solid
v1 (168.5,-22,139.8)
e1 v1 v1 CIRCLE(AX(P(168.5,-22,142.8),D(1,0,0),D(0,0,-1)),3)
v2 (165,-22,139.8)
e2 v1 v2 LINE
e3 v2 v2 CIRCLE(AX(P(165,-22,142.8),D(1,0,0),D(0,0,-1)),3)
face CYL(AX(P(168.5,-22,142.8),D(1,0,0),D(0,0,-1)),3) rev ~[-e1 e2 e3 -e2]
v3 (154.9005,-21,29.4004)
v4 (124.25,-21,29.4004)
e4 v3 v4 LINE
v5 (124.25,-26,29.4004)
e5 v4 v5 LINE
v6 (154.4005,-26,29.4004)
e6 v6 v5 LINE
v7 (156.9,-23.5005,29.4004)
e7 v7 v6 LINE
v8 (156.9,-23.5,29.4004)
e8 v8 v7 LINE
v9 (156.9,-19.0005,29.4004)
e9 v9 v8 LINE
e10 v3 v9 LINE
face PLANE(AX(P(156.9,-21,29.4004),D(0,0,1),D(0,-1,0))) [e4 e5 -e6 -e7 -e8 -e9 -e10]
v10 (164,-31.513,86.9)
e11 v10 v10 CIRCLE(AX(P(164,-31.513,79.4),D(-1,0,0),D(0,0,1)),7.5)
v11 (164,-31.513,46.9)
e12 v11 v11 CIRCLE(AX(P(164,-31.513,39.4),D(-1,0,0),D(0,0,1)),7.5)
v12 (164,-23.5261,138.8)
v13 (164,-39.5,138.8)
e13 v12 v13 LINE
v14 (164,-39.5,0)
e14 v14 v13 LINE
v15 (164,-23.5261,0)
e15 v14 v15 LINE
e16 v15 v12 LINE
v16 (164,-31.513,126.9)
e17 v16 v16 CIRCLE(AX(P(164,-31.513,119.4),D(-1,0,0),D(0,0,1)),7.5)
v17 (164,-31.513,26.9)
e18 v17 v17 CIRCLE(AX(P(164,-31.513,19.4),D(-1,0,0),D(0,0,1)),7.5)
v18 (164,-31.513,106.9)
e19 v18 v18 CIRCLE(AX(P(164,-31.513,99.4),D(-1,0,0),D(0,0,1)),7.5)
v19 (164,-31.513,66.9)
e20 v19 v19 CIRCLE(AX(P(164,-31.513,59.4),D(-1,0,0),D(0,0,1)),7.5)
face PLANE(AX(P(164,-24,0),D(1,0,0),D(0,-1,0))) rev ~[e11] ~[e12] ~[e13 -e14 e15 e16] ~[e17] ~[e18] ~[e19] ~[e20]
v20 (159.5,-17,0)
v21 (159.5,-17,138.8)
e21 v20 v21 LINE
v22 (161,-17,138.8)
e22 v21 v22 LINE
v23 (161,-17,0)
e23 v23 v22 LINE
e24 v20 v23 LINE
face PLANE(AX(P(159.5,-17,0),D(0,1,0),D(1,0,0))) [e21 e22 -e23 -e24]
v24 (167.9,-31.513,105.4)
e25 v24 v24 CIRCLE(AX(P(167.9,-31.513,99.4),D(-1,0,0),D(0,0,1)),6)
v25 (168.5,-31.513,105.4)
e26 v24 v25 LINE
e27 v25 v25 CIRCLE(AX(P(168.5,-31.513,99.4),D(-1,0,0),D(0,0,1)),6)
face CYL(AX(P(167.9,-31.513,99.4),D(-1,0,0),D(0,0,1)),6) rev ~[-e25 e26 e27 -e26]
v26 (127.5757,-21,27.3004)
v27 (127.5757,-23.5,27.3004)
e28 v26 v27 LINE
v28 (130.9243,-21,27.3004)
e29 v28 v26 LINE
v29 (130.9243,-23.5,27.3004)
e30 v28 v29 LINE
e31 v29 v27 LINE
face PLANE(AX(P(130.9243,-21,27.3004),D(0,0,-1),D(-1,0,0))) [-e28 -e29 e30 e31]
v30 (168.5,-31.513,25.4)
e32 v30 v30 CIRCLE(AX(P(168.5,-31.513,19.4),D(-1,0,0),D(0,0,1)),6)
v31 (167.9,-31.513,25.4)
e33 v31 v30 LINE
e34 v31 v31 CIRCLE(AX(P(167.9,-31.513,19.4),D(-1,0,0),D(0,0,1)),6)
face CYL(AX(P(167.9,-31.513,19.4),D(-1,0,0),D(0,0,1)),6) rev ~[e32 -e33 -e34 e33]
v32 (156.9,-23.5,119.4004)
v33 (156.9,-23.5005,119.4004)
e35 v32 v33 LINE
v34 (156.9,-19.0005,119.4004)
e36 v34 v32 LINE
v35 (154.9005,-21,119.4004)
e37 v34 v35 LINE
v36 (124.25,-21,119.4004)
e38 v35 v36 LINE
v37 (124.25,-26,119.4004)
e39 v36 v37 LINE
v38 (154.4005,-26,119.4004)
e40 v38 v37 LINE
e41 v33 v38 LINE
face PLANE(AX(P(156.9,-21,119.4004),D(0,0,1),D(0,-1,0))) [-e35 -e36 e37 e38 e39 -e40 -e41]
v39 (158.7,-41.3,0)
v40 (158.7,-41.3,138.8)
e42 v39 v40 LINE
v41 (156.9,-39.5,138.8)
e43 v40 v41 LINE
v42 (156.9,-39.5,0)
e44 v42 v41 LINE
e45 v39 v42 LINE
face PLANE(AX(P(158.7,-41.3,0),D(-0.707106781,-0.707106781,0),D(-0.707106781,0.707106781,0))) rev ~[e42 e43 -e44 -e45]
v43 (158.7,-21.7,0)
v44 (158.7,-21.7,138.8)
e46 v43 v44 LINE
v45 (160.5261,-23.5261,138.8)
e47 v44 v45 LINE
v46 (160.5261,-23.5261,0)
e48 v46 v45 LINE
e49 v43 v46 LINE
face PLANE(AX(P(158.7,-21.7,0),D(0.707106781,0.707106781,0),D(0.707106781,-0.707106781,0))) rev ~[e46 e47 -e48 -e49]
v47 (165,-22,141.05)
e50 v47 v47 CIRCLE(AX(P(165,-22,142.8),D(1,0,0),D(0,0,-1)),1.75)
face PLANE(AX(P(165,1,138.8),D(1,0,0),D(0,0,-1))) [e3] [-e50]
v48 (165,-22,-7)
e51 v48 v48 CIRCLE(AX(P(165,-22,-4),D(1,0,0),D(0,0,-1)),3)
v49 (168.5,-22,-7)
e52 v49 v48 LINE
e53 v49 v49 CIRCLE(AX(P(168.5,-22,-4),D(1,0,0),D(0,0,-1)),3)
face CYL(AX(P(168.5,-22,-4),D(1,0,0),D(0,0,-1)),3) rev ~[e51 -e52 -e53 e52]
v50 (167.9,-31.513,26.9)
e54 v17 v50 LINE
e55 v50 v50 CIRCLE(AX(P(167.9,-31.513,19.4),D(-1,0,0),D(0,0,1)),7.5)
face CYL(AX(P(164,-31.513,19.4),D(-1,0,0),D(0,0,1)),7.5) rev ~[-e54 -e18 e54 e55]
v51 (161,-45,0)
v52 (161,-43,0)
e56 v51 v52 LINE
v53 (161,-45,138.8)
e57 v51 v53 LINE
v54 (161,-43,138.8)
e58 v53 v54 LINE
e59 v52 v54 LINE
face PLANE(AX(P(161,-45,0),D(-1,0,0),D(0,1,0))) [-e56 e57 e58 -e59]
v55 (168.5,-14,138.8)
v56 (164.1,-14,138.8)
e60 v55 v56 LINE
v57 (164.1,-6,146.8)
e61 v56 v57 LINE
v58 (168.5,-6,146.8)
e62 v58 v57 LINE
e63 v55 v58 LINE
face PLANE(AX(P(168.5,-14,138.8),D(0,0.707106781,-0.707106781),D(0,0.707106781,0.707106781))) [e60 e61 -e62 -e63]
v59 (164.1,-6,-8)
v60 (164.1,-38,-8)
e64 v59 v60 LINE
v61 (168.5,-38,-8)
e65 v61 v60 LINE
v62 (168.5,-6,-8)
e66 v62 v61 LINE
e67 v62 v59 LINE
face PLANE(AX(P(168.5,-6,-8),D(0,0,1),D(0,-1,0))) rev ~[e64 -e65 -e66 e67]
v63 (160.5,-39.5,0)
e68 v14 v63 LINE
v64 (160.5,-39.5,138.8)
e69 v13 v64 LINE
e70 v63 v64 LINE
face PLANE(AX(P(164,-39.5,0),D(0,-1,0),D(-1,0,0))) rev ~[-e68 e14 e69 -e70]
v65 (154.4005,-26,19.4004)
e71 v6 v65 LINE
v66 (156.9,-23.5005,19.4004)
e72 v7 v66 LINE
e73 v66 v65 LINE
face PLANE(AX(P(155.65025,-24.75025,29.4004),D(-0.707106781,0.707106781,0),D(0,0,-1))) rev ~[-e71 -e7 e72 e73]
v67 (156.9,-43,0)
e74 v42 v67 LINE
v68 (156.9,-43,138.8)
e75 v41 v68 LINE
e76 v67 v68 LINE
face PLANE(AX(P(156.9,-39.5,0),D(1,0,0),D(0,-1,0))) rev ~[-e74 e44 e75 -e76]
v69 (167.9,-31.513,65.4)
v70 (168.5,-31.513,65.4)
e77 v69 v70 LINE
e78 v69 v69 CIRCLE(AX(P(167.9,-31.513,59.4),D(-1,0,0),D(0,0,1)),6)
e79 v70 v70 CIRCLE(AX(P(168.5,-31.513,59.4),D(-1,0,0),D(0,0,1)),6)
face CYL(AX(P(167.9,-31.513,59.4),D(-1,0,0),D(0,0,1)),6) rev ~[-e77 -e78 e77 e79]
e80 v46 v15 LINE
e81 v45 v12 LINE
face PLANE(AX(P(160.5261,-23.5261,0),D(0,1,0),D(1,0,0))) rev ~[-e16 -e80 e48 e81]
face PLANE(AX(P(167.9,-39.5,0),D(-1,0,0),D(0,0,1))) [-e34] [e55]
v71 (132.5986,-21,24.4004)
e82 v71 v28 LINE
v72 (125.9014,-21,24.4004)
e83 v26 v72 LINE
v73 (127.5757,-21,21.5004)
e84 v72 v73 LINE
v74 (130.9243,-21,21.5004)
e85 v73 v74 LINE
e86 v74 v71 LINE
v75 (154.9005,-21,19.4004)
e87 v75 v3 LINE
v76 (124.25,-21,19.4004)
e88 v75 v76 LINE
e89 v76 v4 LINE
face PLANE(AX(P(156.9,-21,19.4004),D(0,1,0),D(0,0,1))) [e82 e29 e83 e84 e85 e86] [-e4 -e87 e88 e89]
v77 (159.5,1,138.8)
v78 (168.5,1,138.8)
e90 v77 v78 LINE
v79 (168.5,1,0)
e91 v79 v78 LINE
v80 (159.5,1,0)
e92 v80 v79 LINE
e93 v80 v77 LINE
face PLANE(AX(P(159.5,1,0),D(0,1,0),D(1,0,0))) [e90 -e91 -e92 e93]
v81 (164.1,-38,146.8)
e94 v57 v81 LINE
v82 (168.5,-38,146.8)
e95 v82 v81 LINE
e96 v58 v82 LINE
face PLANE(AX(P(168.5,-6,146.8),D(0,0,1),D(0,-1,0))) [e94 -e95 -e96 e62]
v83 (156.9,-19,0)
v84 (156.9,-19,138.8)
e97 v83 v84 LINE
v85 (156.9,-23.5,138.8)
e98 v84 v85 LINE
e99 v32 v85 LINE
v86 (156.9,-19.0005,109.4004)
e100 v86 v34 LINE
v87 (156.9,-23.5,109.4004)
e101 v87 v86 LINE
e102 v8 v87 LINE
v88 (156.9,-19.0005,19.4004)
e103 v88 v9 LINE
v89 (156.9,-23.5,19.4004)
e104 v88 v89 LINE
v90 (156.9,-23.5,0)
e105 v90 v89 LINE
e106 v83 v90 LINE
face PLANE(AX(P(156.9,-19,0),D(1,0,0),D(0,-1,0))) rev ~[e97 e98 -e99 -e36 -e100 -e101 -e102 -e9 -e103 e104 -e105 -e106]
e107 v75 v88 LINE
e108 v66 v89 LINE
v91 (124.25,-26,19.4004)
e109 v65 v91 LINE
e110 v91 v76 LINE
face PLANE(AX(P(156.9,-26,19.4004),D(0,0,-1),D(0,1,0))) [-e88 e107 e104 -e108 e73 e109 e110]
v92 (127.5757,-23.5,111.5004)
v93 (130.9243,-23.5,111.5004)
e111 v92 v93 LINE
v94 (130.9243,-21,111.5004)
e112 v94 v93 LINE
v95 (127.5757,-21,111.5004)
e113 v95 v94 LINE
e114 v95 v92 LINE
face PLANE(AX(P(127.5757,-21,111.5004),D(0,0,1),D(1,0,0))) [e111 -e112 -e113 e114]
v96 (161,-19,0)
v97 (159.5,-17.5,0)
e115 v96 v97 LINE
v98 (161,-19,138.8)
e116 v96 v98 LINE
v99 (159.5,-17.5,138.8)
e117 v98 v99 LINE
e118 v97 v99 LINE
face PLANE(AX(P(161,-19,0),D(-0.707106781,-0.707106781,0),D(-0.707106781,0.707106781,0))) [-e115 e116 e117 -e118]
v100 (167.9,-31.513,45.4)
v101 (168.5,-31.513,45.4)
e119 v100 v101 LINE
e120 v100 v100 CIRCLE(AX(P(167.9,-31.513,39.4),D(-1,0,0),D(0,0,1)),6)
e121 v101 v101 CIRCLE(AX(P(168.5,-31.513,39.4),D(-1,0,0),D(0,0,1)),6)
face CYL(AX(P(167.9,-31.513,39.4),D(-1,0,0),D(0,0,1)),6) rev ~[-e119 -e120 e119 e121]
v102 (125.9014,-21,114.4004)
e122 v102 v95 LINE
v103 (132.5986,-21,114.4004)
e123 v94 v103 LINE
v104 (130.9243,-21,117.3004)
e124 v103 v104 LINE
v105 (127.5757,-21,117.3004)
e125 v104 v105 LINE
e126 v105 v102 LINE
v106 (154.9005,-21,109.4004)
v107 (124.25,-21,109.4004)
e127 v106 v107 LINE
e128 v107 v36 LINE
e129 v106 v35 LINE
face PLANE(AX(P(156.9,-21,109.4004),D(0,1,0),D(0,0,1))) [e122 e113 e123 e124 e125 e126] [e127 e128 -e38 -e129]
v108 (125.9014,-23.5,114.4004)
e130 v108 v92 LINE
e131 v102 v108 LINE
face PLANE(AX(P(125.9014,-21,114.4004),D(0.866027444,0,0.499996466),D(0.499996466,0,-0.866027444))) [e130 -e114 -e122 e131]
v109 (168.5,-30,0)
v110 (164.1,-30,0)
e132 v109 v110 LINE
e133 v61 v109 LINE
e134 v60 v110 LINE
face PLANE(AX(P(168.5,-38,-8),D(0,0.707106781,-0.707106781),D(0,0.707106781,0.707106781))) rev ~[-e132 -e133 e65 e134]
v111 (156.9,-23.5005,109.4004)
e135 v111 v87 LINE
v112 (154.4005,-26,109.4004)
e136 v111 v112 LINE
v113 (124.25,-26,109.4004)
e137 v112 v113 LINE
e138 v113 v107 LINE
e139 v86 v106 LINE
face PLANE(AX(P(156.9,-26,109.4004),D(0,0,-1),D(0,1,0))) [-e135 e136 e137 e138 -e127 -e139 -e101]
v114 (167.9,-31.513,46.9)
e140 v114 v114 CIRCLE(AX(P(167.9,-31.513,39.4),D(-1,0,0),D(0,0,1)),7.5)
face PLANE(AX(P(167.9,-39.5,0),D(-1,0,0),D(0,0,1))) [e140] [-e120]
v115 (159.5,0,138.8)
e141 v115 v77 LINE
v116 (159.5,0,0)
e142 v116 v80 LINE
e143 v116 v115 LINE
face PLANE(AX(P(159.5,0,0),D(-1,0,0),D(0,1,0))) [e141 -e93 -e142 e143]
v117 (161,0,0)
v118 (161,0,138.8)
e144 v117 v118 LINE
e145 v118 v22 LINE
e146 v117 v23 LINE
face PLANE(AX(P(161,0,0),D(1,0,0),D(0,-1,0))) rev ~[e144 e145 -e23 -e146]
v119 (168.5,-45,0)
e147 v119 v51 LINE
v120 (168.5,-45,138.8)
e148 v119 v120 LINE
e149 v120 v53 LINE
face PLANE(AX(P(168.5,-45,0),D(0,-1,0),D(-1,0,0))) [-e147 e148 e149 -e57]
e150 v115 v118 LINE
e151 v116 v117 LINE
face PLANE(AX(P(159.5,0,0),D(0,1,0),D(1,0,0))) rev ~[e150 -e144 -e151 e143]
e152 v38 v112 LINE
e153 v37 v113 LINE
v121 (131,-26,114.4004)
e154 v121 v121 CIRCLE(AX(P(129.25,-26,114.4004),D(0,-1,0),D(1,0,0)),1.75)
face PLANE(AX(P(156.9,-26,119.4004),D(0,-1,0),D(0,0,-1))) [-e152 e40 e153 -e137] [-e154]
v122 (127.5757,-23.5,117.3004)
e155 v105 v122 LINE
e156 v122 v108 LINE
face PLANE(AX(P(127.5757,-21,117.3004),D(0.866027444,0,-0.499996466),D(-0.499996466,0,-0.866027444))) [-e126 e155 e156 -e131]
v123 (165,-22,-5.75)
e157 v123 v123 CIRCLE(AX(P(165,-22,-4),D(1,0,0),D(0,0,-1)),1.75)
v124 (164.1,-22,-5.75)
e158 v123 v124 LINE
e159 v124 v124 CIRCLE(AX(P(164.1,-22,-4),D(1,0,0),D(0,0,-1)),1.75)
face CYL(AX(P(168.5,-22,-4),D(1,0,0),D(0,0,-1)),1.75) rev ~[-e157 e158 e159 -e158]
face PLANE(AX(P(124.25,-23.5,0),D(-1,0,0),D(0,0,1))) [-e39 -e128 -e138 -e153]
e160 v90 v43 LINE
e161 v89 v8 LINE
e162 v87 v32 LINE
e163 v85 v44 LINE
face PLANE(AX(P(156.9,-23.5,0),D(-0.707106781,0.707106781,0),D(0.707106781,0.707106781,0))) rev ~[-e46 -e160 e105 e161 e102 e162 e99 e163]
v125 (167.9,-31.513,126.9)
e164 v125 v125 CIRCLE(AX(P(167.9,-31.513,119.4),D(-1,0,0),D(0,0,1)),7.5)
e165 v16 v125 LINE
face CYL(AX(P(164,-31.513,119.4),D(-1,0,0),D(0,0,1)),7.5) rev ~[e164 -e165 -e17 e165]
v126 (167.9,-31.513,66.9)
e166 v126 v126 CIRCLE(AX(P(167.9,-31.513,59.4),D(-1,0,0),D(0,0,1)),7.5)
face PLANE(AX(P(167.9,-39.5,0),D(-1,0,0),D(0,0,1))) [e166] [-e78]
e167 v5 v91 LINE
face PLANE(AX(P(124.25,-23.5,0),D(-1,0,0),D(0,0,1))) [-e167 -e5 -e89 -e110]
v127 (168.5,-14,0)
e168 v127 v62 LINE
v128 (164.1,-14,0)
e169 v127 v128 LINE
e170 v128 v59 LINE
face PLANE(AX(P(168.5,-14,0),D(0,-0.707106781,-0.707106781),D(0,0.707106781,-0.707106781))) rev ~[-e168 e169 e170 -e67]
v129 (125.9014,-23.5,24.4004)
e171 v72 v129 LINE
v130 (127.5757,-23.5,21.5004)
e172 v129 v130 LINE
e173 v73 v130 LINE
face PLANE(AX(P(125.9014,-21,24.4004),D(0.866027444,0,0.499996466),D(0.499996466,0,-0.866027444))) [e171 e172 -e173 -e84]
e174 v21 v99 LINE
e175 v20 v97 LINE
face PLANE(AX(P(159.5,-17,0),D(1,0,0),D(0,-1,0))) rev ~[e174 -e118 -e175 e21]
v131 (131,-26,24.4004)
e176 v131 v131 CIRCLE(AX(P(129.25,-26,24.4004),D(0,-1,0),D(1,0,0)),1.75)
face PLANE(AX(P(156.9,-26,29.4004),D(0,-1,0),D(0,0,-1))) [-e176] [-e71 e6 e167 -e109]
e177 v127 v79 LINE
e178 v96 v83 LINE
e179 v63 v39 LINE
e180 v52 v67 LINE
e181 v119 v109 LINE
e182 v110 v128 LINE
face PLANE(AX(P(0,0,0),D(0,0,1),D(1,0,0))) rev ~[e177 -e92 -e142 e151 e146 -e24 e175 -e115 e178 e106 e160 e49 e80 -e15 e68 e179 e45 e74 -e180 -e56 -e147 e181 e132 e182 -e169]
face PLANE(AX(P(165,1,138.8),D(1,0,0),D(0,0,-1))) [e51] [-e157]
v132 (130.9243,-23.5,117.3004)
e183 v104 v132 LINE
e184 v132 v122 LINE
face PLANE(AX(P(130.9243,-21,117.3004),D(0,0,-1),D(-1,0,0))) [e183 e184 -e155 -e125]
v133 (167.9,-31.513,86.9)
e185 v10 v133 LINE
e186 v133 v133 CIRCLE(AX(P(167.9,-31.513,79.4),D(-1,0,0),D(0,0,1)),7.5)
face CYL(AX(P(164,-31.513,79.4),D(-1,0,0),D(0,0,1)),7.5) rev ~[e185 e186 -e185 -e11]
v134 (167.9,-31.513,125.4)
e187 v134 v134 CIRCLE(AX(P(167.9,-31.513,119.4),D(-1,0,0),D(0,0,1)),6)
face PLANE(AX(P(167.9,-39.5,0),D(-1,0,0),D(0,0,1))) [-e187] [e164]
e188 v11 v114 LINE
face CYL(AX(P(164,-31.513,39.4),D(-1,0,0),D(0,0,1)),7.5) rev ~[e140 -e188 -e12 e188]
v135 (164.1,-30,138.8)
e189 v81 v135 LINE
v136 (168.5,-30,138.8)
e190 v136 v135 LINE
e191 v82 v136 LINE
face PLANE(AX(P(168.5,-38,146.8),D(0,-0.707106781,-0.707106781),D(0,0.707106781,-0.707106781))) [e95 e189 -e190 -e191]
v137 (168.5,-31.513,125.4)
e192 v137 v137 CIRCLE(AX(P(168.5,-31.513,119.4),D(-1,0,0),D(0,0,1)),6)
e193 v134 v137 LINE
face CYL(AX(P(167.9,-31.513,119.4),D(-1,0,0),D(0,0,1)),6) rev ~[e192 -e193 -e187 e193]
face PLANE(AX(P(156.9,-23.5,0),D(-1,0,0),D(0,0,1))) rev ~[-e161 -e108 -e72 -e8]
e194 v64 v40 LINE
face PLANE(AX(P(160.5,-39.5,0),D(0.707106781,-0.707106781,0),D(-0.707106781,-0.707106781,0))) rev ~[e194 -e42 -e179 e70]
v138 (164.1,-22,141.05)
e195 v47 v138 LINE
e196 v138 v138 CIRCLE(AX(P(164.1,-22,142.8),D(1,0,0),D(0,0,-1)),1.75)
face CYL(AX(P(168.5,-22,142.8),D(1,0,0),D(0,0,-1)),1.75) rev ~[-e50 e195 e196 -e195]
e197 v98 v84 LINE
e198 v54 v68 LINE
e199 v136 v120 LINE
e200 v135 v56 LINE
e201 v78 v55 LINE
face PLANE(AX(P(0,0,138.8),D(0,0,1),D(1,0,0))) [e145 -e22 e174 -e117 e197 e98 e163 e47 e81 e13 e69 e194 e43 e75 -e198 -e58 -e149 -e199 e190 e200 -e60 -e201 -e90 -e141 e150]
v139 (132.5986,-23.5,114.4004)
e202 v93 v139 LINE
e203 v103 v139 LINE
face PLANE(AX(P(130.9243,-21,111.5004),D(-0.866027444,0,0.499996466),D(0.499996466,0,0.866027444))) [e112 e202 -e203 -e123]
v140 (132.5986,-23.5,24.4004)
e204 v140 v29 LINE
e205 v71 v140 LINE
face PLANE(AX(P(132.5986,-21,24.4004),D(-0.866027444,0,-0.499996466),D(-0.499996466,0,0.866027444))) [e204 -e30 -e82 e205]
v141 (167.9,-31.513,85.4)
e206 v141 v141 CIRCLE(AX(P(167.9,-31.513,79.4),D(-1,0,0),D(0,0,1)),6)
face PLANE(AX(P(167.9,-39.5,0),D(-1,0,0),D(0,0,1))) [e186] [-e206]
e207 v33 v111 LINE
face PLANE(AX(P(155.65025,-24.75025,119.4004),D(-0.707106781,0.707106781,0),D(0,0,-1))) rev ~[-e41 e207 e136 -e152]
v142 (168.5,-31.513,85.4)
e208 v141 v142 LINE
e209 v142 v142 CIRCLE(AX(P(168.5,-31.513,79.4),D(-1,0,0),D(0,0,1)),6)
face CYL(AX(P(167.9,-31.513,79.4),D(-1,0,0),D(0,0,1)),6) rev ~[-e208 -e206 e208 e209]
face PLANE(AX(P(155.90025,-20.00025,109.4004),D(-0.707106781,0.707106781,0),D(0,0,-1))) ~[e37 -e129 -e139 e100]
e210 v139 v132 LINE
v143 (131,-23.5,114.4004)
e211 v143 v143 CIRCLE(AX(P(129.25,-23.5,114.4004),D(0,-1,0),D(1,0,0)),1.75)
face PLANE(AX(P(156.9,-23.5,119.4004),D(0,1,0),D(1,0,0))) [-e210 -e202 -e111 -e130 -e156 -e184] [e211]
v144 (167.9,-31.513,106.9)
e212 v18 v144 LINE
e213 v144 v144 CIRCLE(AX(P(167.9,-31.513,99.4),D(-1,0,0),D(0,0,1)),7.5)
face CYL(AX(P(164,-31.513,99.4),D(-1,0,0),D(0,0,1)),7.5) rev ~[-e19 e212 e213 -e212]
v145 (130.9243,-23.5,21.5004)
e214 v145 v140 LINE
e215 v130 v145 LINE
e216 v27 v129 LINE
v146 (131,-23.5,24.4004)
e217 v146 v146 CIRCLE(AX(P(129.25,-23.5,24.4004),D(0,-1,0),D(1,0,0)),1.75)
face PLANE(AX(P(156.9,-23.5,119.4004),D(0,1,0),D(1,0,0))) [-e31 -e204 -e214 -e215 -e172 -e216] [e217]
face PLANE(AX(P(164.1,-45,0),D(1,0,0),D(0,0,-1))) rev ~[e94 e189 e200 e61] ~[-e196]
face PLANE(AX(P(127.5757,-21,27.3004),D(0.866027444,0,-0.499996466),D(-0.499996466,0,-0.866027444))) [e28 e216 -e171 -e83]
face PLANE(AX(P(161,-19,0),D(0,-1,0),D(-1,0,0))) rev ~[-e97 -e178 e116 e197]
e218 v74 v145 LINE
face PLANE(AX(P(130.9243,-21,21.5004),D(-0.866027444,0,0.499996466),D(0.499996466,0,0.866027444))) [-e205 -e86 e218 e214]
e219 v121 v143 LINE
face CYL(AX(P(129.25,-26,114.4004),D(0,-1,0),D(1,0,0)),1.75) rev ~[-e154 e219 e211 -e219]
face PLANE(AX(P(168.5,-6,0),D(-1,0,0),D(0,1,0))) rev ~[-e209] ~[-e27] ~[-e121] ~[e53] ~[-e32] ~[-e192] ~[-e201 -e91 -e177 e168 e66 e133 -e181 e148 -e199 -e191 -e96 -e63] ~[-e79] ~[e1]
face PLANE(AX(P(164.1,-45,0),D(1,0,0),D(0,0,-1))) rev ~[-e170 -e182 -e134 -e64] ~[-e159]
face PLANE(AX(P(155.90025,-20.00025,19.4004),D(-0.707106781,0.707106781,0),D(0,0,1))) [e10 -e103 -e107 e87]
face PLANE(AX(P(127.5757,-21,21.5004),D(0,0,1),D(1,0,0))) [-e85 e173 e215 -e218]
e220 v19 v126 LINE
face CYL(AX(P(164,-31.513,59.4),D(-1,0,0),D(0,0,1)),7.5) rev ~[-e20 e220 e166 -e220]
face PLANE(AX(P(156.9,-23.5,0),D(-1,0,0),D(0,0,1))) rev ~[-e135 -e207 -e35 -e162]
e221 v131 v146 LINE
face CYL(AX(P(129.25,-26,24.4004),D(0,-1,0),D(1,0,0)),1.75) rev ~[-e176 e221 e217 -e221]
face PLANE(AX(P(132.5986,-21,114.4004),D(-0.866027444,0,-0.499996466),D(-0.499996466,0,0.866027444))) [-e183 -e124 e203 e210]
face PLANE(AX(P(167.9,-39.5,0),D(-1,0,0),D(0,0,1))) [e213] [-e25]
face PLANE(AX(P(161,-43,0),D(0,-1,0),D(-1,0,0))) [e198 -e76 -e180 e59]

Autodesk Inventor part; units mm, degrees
ref_plane "YZ Plane" through (0, 0, 0) normal (1, 0, 0) x (0, 1, 0)
ref_plane "XZ Plane" through (0, 0, 0) normal (0, 1, 0) x (-1, 0, 0)
ref_plane "XY Plane" through (0, 0, 0) normal (0, 0, 1) x (1, 0, 0)
ref_plane "Arbeitsebene1" through (0, 0, 0) normal (0, 0, 1) x (1, 0, 0)
sketch "Skizze1" plane through (0, 0, 0) normal (0, 0, 1) x (1, 0, 0)
  line L0 (159.5, 1) -> (168.5, 1) projected
  line L1 (159.5, 0) -> (159.5, 1) projected
  line L2 (161, 0) -> (161, -17) projected
  line L3 (159.5, 0) -> (161, 0) projected
  line L4 (168.5, -14) -> (168.5, 1) projected
  line L5 (159.5, -17) -> (161, -17) projected
  line L6 (159.5, -17) -> (159.5, -17.5) projected
  line L7 (161, -19) -> (159.5, -17.5) projected
  line L8 (168.5, -6) -> (168.5, -38) projected
  line L9 (168.5, -45) -> (168.5, -30) projected
  line L10 (168.5, -45) -> (161, -45) projected
  line L11 (159.5, -22.5) -> (157.9, -22.5) construction
  line L12 (157.9, -22.5) -> (157.9, -40.5) construction
  line L13 (157.9, -40.5) -> (159.5, -40.5) construction
  line L14 (159.5, -40.5) -> (159.5, -22.5) construction
  line L15 (167.9, -24) -> (164, -24) construction
  line L16 (164, -24) -> (164, -39) construction
  line L17 (164, -39) -> (167.9, -39) construction
  line L18 (167.9, -39) -> (167.9, -24) construction
  line L19 (167.9, -25.5) -> (168.5, -25.5) construction
  line L20 (168.5, -25.5) -> (168.5, -37.5) construction
  line L21 (168.5, -37.5) -> (167.9, -37.5) construction
  line L22 (167.9, -37.5) -> (167.9, -25.5) construction
  line L23 (164, -31.5) -> (167.9, -31.5) construction
  line L24 (168.5, -31.5) -> (167.9, -31.5) construction
  line L25 (164, -31.5) -> (159.5, -31.5) construction
  line L26 (159.5, -22.5) -> (160.5261, -23.5261) construction
  line L27 (159.5, -22.5) -> (160.9511, -22.5) construction
  line L28 (164, -31.5) -> (167.9, -31.5) construction
  line L29 (159.5, -22.5) -> (158.7, -21.7) construction
  line L30 (158.7, -21.7) -> (156.9, -23.5) construction
  line L31 (156.9, -23.5) -> (156.9, -19) construction
  line L32 (156.9, -19) -> (161, -19) construction
  line L33 (157.9, -40.5) -> (156.9, -39.5) construction
  line L34 (158.7, -41.3) -> (160.5, -39.5) construction
  line L35 (160.5, -39.5) -> (164, -39.5) construction
  line L36 (164, -39.5) -> (164, -39) construction
  line L37 (160.5261, -23.5261) -> (164, -23.5261) construction
  line L38 (164, -23.5261) -> (164, -24) construction
  line L39 (157.9, -40.5) -> (158.7, -41.3) construction
  line L40 (156.9, -39.5) -> (156.9, -43) construction
  line L41 (161, -45) -> (161, -43)
  line L42 (161, -43) -> (156.9, -43)
  line L43 (161, -19) -> (156.9, -19)
  line L44 (156.9, -19) -> (156.9, -23.5)
  line L45 (156.9, -23.5) -> (158.7, -21.7)
  line L46 (158.7, -21.7) -> (160.5261, -23.5261)
  line L47 (160.5261, -23.5261) -> (164, -23.5261)
  line L48 (164, -23.5261) -> (164, -24)
  line L49 (164, -24) -> (164, -39.5)
  line L50 (164, -39.5) -> (160.5, -39.5)
  line L51 (160.5, -39.5) -> (158.7, -41.3)
  line L52 (158.7, -41.3) -> (156.9, -39.5)
  line L53 (156.9, -39.5) -> (156.9, -43)
  point P0 (0, 0)
  dimension "d0" = 0.6
  dimension "d2" = 6.1
  dimension "d4" = 12
  dimension "d5" = 15
  dimension "d6" = 1.6
  dimension "d7" = 4.5
  dimension "d8" = 18
  dimension "d9" = 45
  dimension "d10" = 1.0261
  dimension "d11" = 6
  dimension "d12" = 1
  dimension "d13" = 0.8
  dimension "d14" = 0.8
  dimension "d15" = 1
  dimension "d16" = 1
  dimension "d17" = 0.8
  dimension "d18" = 1
  dimension "d19" = 2
  dimension "d69" = 3.9
extrude "Extrusion1" add sketch "Skizze1" along normal blind 138.8
sketch "Skizze2" plane through (168.5, -45, 0) normal (1, 0, 0) x (0, 0, -1)
  line L0 (0, 46) -> (-138.8, 46) construction
  line L1 (-69.4, 46) -> (-69.4, 0) construction
  circle A0 centre (4, 23) radius 1.75 projected
  line L2 (0, 15) -> (0, 31) projected
  line L3 (8, 7) -> (0, 15) projected
  line L4 (8, 39) -> (8, 7) projected
  line L5 (0, 31) -> (8, 39) projected
  circle A1 centre (-142.8, 23) radius 1.75
  line L6 (-138.8, 15) -> (-138.8, 31)
  line L7 (-146.8, 7) -> (-138.8, 15)
  line L8 (-146.8, 39) -> (-146.8, 7)
  line L9 (-138.8, 31) -> (-146.8, 39)
  point P0 (0, 45)
extrude "Extrusion2" add sketch "Skizze2" against normal blind 4.4
sketch "Skizze3" plane through (168.5, 1, 138.8) normal (1, 0, 0) x (0, 0, -1)
  circle A0 centre (142.8, -23) radius 1.75 projected
  circle A1 centre (-4, -23) radius 1.75 projected
  circle A2 centre (142.8, -23) radius 3
  circle A3 centre (-4, -23) radius 3
  point P0 (138.8, -1)
  dimension "d24" = 6
  dimension "d25" = 6
extrude "Extrusion3" cut sketch "Skizze3" against normal blind 3.5
sketch "Skizze4" plane through (156.9, -23.5, 0) normal (-1, 0, 0) x (0, 0, 1)
  line L0 (109.4004, 2.5) -> (119.4004, 2.5) projected
  line L1 (119.4004, 2.5) -> (119.4004, -2.5) projected
  line L2 (119.4004, -2.5) -> (109.4004, -2.5) projected
  line L3 (109.4004, -2.5) -> (109.4004, 2.5) projected
  line L4 (19.4004, 2.5) -> (29.4004, 2.5) projected
  line L5 (29.4004, 2.5) -> (29.4004, -2.5) projected
  line L6 (29.4004, -2.5) -> (19.4004, -2.5) projected
  line L7 (19.4004, -2.5) -> (19.4004, 2.5) projected
  point P0 (0, 23.5)
extrude "Extrusion4" add sketch "Skizze4" along normal blind 32.65
chamfer "Fase1" distance 2.5 angle 45 2 edges at (156.9, -26, 114.4004) (156.9, -26, 24.4004)
sketch "Skizze5" plane through (124.25, -26, 29.4004) normal (0, -1, 0) x (1, 0, 0)
  circle A0 centre (5, -5) radius 1.75
  circle A1 centre (5, 85) radius 1.75
  line L0 (32.65, 0) -> (0, 0) projected
  line L1 (0, -10) -> (0, 0) projected
  line L2 (0, 80) -> (0, 90) projected
  line L3 (32.65, 90) -> (0, 90) projected
  point P0 (-124.25, -29.4004)
  dimension "d33" = 3.5
  dimension "d34" = 3.5
  dimension "d35" = 5
  dimension "d36" = 5
  dimension "d37" = 5
  dimension "d38" = 5
extrude "Extrusion5" cut sketch "Skizze5" against normal blind 36.75
sketch "Skizze7" plane through (156.9, -21, 119.4004) normal (0, 1, 0) x (1, 0, 0)
  circle A0 centre (-27.65, 5) radius 1.75 construction
  circle A1 centre (-27.65, 95) radius 1.75 construction
  line L0 (-29.3243, 7.9) -> (-25.9757, 7.9)
  line L1 (-25.9757, 7.9) -> (-24.3014, 5)
  line L2 (-24.3014, 5) -> (-25.9757, 2.1)
  line L3 (-25.9757, 2.1) -> (-29.3243, 2.1)
  line L4 (-29.3243, 2.1) -> (-30.9986, 5)
  line L5 (-30.9986, 5) -> (-29.3243, 7.9)
  line L6 (-29.3243, 97.9) -> (-25.9757, 97.9)
  line L7 (-25.9757, 97.9) -> (-24.3014, 95)
  line L8 (-24.3014, 95) -> (-25.9757, 92.1)
  line L9 (-25.9757, 92.1) -> (-29.3243, 92.1)
  line L10 (-29.3243, 92.1) -> (-30.9986, 95)
  line L11 (-30.9986, 95) -> (-29.3243, 97.9)
  point P0 (-156.9, 119.4004)
  dimension "d41" = 5.8
  dimension "d43" = 5.8
extrude "Extrusion6" cut sketch "Skizze7" against normal blind 2.5
chamfer "Fase2" distance 2 angle 45 2 edges at (156.9, -21, 114.4004) (156.9, -21, 24.4004)
sketch "Skizze8" plane through (164, -39.5, 0) normal (-1, 0, 0) x (0, 0, 1)
  line L0 (0, 9.5) -> (0, -5.5) construction
  line L1 (0, 0) -> (0, 15.9739) construction
  line L2 (0, 7.987) -> (138.8, 7.987) construction
  line L3 (138.8, -5.5) -> (138.8, 9.5) construction
  circle A0 centre (19.4, 7.987) radius 7.5
  circle A1 centre (39.4, 7.987) radius 7.5
  circle A2 centre (59.4, 7.987) radius 7.5
  circle A3 centre (79.4, 7.987) radius 7.5
  circle A4 centre (99.4, 7.987) radius 7.5
  circle A5 centre (119.4, 7.987) radius 7.5
  point P0 (0, 39.5)
  dimension "d49" = 15
  dimension "d50" = 19.4
  dimension "d53" = 20
  dimension "d58" = 19.4
extrude "Extrusion7" cut sketch "Skizze8" against normal blind 3.9
sketch "Skizze9" plane through (167.9, -31.513, 19.4) normal (-1, 0, 0) x (0, 0, 1)
  circle A0 centre (0, 0) radius 7.5 projected
  circle A1 centre (20, 0) radius 7.5 projected
  circle A2 centre (40, 0) radius 7.5 projected
  circle A3 centre (60, 0) radius 7.5 projected
  circle A4 centre (80, 0) radius 7.5 projected
  circle A5 centre (100, 0) radius 7.5 projected
  circle A6 centre (0, 0) radius 6
  circle A7 centre (20, 0) radius 6
  circle A8 centre (40, 0) radius 6
  circle A9 centre (60, 0) radius 6
  circle A10 centre (80, 0) radius 6
  circle A11 centre (100, 0) radius 6
  point P0 (-19.4, 31.513)
  dimension "d61" = 12
  dimension "d62" = 12
  dimension "d63" = 12
  dimension "d64" = 12
  dimension "d65" = 12
  dimension "d66" = 12
extrude "Extrusion8" cut sketch "Skizze9" against normal blind 3.9 contours A6 | A7 | A8 | A9 | A10 | A11
equation "\"d25\" = d24"
properties part number "TopFrame"
